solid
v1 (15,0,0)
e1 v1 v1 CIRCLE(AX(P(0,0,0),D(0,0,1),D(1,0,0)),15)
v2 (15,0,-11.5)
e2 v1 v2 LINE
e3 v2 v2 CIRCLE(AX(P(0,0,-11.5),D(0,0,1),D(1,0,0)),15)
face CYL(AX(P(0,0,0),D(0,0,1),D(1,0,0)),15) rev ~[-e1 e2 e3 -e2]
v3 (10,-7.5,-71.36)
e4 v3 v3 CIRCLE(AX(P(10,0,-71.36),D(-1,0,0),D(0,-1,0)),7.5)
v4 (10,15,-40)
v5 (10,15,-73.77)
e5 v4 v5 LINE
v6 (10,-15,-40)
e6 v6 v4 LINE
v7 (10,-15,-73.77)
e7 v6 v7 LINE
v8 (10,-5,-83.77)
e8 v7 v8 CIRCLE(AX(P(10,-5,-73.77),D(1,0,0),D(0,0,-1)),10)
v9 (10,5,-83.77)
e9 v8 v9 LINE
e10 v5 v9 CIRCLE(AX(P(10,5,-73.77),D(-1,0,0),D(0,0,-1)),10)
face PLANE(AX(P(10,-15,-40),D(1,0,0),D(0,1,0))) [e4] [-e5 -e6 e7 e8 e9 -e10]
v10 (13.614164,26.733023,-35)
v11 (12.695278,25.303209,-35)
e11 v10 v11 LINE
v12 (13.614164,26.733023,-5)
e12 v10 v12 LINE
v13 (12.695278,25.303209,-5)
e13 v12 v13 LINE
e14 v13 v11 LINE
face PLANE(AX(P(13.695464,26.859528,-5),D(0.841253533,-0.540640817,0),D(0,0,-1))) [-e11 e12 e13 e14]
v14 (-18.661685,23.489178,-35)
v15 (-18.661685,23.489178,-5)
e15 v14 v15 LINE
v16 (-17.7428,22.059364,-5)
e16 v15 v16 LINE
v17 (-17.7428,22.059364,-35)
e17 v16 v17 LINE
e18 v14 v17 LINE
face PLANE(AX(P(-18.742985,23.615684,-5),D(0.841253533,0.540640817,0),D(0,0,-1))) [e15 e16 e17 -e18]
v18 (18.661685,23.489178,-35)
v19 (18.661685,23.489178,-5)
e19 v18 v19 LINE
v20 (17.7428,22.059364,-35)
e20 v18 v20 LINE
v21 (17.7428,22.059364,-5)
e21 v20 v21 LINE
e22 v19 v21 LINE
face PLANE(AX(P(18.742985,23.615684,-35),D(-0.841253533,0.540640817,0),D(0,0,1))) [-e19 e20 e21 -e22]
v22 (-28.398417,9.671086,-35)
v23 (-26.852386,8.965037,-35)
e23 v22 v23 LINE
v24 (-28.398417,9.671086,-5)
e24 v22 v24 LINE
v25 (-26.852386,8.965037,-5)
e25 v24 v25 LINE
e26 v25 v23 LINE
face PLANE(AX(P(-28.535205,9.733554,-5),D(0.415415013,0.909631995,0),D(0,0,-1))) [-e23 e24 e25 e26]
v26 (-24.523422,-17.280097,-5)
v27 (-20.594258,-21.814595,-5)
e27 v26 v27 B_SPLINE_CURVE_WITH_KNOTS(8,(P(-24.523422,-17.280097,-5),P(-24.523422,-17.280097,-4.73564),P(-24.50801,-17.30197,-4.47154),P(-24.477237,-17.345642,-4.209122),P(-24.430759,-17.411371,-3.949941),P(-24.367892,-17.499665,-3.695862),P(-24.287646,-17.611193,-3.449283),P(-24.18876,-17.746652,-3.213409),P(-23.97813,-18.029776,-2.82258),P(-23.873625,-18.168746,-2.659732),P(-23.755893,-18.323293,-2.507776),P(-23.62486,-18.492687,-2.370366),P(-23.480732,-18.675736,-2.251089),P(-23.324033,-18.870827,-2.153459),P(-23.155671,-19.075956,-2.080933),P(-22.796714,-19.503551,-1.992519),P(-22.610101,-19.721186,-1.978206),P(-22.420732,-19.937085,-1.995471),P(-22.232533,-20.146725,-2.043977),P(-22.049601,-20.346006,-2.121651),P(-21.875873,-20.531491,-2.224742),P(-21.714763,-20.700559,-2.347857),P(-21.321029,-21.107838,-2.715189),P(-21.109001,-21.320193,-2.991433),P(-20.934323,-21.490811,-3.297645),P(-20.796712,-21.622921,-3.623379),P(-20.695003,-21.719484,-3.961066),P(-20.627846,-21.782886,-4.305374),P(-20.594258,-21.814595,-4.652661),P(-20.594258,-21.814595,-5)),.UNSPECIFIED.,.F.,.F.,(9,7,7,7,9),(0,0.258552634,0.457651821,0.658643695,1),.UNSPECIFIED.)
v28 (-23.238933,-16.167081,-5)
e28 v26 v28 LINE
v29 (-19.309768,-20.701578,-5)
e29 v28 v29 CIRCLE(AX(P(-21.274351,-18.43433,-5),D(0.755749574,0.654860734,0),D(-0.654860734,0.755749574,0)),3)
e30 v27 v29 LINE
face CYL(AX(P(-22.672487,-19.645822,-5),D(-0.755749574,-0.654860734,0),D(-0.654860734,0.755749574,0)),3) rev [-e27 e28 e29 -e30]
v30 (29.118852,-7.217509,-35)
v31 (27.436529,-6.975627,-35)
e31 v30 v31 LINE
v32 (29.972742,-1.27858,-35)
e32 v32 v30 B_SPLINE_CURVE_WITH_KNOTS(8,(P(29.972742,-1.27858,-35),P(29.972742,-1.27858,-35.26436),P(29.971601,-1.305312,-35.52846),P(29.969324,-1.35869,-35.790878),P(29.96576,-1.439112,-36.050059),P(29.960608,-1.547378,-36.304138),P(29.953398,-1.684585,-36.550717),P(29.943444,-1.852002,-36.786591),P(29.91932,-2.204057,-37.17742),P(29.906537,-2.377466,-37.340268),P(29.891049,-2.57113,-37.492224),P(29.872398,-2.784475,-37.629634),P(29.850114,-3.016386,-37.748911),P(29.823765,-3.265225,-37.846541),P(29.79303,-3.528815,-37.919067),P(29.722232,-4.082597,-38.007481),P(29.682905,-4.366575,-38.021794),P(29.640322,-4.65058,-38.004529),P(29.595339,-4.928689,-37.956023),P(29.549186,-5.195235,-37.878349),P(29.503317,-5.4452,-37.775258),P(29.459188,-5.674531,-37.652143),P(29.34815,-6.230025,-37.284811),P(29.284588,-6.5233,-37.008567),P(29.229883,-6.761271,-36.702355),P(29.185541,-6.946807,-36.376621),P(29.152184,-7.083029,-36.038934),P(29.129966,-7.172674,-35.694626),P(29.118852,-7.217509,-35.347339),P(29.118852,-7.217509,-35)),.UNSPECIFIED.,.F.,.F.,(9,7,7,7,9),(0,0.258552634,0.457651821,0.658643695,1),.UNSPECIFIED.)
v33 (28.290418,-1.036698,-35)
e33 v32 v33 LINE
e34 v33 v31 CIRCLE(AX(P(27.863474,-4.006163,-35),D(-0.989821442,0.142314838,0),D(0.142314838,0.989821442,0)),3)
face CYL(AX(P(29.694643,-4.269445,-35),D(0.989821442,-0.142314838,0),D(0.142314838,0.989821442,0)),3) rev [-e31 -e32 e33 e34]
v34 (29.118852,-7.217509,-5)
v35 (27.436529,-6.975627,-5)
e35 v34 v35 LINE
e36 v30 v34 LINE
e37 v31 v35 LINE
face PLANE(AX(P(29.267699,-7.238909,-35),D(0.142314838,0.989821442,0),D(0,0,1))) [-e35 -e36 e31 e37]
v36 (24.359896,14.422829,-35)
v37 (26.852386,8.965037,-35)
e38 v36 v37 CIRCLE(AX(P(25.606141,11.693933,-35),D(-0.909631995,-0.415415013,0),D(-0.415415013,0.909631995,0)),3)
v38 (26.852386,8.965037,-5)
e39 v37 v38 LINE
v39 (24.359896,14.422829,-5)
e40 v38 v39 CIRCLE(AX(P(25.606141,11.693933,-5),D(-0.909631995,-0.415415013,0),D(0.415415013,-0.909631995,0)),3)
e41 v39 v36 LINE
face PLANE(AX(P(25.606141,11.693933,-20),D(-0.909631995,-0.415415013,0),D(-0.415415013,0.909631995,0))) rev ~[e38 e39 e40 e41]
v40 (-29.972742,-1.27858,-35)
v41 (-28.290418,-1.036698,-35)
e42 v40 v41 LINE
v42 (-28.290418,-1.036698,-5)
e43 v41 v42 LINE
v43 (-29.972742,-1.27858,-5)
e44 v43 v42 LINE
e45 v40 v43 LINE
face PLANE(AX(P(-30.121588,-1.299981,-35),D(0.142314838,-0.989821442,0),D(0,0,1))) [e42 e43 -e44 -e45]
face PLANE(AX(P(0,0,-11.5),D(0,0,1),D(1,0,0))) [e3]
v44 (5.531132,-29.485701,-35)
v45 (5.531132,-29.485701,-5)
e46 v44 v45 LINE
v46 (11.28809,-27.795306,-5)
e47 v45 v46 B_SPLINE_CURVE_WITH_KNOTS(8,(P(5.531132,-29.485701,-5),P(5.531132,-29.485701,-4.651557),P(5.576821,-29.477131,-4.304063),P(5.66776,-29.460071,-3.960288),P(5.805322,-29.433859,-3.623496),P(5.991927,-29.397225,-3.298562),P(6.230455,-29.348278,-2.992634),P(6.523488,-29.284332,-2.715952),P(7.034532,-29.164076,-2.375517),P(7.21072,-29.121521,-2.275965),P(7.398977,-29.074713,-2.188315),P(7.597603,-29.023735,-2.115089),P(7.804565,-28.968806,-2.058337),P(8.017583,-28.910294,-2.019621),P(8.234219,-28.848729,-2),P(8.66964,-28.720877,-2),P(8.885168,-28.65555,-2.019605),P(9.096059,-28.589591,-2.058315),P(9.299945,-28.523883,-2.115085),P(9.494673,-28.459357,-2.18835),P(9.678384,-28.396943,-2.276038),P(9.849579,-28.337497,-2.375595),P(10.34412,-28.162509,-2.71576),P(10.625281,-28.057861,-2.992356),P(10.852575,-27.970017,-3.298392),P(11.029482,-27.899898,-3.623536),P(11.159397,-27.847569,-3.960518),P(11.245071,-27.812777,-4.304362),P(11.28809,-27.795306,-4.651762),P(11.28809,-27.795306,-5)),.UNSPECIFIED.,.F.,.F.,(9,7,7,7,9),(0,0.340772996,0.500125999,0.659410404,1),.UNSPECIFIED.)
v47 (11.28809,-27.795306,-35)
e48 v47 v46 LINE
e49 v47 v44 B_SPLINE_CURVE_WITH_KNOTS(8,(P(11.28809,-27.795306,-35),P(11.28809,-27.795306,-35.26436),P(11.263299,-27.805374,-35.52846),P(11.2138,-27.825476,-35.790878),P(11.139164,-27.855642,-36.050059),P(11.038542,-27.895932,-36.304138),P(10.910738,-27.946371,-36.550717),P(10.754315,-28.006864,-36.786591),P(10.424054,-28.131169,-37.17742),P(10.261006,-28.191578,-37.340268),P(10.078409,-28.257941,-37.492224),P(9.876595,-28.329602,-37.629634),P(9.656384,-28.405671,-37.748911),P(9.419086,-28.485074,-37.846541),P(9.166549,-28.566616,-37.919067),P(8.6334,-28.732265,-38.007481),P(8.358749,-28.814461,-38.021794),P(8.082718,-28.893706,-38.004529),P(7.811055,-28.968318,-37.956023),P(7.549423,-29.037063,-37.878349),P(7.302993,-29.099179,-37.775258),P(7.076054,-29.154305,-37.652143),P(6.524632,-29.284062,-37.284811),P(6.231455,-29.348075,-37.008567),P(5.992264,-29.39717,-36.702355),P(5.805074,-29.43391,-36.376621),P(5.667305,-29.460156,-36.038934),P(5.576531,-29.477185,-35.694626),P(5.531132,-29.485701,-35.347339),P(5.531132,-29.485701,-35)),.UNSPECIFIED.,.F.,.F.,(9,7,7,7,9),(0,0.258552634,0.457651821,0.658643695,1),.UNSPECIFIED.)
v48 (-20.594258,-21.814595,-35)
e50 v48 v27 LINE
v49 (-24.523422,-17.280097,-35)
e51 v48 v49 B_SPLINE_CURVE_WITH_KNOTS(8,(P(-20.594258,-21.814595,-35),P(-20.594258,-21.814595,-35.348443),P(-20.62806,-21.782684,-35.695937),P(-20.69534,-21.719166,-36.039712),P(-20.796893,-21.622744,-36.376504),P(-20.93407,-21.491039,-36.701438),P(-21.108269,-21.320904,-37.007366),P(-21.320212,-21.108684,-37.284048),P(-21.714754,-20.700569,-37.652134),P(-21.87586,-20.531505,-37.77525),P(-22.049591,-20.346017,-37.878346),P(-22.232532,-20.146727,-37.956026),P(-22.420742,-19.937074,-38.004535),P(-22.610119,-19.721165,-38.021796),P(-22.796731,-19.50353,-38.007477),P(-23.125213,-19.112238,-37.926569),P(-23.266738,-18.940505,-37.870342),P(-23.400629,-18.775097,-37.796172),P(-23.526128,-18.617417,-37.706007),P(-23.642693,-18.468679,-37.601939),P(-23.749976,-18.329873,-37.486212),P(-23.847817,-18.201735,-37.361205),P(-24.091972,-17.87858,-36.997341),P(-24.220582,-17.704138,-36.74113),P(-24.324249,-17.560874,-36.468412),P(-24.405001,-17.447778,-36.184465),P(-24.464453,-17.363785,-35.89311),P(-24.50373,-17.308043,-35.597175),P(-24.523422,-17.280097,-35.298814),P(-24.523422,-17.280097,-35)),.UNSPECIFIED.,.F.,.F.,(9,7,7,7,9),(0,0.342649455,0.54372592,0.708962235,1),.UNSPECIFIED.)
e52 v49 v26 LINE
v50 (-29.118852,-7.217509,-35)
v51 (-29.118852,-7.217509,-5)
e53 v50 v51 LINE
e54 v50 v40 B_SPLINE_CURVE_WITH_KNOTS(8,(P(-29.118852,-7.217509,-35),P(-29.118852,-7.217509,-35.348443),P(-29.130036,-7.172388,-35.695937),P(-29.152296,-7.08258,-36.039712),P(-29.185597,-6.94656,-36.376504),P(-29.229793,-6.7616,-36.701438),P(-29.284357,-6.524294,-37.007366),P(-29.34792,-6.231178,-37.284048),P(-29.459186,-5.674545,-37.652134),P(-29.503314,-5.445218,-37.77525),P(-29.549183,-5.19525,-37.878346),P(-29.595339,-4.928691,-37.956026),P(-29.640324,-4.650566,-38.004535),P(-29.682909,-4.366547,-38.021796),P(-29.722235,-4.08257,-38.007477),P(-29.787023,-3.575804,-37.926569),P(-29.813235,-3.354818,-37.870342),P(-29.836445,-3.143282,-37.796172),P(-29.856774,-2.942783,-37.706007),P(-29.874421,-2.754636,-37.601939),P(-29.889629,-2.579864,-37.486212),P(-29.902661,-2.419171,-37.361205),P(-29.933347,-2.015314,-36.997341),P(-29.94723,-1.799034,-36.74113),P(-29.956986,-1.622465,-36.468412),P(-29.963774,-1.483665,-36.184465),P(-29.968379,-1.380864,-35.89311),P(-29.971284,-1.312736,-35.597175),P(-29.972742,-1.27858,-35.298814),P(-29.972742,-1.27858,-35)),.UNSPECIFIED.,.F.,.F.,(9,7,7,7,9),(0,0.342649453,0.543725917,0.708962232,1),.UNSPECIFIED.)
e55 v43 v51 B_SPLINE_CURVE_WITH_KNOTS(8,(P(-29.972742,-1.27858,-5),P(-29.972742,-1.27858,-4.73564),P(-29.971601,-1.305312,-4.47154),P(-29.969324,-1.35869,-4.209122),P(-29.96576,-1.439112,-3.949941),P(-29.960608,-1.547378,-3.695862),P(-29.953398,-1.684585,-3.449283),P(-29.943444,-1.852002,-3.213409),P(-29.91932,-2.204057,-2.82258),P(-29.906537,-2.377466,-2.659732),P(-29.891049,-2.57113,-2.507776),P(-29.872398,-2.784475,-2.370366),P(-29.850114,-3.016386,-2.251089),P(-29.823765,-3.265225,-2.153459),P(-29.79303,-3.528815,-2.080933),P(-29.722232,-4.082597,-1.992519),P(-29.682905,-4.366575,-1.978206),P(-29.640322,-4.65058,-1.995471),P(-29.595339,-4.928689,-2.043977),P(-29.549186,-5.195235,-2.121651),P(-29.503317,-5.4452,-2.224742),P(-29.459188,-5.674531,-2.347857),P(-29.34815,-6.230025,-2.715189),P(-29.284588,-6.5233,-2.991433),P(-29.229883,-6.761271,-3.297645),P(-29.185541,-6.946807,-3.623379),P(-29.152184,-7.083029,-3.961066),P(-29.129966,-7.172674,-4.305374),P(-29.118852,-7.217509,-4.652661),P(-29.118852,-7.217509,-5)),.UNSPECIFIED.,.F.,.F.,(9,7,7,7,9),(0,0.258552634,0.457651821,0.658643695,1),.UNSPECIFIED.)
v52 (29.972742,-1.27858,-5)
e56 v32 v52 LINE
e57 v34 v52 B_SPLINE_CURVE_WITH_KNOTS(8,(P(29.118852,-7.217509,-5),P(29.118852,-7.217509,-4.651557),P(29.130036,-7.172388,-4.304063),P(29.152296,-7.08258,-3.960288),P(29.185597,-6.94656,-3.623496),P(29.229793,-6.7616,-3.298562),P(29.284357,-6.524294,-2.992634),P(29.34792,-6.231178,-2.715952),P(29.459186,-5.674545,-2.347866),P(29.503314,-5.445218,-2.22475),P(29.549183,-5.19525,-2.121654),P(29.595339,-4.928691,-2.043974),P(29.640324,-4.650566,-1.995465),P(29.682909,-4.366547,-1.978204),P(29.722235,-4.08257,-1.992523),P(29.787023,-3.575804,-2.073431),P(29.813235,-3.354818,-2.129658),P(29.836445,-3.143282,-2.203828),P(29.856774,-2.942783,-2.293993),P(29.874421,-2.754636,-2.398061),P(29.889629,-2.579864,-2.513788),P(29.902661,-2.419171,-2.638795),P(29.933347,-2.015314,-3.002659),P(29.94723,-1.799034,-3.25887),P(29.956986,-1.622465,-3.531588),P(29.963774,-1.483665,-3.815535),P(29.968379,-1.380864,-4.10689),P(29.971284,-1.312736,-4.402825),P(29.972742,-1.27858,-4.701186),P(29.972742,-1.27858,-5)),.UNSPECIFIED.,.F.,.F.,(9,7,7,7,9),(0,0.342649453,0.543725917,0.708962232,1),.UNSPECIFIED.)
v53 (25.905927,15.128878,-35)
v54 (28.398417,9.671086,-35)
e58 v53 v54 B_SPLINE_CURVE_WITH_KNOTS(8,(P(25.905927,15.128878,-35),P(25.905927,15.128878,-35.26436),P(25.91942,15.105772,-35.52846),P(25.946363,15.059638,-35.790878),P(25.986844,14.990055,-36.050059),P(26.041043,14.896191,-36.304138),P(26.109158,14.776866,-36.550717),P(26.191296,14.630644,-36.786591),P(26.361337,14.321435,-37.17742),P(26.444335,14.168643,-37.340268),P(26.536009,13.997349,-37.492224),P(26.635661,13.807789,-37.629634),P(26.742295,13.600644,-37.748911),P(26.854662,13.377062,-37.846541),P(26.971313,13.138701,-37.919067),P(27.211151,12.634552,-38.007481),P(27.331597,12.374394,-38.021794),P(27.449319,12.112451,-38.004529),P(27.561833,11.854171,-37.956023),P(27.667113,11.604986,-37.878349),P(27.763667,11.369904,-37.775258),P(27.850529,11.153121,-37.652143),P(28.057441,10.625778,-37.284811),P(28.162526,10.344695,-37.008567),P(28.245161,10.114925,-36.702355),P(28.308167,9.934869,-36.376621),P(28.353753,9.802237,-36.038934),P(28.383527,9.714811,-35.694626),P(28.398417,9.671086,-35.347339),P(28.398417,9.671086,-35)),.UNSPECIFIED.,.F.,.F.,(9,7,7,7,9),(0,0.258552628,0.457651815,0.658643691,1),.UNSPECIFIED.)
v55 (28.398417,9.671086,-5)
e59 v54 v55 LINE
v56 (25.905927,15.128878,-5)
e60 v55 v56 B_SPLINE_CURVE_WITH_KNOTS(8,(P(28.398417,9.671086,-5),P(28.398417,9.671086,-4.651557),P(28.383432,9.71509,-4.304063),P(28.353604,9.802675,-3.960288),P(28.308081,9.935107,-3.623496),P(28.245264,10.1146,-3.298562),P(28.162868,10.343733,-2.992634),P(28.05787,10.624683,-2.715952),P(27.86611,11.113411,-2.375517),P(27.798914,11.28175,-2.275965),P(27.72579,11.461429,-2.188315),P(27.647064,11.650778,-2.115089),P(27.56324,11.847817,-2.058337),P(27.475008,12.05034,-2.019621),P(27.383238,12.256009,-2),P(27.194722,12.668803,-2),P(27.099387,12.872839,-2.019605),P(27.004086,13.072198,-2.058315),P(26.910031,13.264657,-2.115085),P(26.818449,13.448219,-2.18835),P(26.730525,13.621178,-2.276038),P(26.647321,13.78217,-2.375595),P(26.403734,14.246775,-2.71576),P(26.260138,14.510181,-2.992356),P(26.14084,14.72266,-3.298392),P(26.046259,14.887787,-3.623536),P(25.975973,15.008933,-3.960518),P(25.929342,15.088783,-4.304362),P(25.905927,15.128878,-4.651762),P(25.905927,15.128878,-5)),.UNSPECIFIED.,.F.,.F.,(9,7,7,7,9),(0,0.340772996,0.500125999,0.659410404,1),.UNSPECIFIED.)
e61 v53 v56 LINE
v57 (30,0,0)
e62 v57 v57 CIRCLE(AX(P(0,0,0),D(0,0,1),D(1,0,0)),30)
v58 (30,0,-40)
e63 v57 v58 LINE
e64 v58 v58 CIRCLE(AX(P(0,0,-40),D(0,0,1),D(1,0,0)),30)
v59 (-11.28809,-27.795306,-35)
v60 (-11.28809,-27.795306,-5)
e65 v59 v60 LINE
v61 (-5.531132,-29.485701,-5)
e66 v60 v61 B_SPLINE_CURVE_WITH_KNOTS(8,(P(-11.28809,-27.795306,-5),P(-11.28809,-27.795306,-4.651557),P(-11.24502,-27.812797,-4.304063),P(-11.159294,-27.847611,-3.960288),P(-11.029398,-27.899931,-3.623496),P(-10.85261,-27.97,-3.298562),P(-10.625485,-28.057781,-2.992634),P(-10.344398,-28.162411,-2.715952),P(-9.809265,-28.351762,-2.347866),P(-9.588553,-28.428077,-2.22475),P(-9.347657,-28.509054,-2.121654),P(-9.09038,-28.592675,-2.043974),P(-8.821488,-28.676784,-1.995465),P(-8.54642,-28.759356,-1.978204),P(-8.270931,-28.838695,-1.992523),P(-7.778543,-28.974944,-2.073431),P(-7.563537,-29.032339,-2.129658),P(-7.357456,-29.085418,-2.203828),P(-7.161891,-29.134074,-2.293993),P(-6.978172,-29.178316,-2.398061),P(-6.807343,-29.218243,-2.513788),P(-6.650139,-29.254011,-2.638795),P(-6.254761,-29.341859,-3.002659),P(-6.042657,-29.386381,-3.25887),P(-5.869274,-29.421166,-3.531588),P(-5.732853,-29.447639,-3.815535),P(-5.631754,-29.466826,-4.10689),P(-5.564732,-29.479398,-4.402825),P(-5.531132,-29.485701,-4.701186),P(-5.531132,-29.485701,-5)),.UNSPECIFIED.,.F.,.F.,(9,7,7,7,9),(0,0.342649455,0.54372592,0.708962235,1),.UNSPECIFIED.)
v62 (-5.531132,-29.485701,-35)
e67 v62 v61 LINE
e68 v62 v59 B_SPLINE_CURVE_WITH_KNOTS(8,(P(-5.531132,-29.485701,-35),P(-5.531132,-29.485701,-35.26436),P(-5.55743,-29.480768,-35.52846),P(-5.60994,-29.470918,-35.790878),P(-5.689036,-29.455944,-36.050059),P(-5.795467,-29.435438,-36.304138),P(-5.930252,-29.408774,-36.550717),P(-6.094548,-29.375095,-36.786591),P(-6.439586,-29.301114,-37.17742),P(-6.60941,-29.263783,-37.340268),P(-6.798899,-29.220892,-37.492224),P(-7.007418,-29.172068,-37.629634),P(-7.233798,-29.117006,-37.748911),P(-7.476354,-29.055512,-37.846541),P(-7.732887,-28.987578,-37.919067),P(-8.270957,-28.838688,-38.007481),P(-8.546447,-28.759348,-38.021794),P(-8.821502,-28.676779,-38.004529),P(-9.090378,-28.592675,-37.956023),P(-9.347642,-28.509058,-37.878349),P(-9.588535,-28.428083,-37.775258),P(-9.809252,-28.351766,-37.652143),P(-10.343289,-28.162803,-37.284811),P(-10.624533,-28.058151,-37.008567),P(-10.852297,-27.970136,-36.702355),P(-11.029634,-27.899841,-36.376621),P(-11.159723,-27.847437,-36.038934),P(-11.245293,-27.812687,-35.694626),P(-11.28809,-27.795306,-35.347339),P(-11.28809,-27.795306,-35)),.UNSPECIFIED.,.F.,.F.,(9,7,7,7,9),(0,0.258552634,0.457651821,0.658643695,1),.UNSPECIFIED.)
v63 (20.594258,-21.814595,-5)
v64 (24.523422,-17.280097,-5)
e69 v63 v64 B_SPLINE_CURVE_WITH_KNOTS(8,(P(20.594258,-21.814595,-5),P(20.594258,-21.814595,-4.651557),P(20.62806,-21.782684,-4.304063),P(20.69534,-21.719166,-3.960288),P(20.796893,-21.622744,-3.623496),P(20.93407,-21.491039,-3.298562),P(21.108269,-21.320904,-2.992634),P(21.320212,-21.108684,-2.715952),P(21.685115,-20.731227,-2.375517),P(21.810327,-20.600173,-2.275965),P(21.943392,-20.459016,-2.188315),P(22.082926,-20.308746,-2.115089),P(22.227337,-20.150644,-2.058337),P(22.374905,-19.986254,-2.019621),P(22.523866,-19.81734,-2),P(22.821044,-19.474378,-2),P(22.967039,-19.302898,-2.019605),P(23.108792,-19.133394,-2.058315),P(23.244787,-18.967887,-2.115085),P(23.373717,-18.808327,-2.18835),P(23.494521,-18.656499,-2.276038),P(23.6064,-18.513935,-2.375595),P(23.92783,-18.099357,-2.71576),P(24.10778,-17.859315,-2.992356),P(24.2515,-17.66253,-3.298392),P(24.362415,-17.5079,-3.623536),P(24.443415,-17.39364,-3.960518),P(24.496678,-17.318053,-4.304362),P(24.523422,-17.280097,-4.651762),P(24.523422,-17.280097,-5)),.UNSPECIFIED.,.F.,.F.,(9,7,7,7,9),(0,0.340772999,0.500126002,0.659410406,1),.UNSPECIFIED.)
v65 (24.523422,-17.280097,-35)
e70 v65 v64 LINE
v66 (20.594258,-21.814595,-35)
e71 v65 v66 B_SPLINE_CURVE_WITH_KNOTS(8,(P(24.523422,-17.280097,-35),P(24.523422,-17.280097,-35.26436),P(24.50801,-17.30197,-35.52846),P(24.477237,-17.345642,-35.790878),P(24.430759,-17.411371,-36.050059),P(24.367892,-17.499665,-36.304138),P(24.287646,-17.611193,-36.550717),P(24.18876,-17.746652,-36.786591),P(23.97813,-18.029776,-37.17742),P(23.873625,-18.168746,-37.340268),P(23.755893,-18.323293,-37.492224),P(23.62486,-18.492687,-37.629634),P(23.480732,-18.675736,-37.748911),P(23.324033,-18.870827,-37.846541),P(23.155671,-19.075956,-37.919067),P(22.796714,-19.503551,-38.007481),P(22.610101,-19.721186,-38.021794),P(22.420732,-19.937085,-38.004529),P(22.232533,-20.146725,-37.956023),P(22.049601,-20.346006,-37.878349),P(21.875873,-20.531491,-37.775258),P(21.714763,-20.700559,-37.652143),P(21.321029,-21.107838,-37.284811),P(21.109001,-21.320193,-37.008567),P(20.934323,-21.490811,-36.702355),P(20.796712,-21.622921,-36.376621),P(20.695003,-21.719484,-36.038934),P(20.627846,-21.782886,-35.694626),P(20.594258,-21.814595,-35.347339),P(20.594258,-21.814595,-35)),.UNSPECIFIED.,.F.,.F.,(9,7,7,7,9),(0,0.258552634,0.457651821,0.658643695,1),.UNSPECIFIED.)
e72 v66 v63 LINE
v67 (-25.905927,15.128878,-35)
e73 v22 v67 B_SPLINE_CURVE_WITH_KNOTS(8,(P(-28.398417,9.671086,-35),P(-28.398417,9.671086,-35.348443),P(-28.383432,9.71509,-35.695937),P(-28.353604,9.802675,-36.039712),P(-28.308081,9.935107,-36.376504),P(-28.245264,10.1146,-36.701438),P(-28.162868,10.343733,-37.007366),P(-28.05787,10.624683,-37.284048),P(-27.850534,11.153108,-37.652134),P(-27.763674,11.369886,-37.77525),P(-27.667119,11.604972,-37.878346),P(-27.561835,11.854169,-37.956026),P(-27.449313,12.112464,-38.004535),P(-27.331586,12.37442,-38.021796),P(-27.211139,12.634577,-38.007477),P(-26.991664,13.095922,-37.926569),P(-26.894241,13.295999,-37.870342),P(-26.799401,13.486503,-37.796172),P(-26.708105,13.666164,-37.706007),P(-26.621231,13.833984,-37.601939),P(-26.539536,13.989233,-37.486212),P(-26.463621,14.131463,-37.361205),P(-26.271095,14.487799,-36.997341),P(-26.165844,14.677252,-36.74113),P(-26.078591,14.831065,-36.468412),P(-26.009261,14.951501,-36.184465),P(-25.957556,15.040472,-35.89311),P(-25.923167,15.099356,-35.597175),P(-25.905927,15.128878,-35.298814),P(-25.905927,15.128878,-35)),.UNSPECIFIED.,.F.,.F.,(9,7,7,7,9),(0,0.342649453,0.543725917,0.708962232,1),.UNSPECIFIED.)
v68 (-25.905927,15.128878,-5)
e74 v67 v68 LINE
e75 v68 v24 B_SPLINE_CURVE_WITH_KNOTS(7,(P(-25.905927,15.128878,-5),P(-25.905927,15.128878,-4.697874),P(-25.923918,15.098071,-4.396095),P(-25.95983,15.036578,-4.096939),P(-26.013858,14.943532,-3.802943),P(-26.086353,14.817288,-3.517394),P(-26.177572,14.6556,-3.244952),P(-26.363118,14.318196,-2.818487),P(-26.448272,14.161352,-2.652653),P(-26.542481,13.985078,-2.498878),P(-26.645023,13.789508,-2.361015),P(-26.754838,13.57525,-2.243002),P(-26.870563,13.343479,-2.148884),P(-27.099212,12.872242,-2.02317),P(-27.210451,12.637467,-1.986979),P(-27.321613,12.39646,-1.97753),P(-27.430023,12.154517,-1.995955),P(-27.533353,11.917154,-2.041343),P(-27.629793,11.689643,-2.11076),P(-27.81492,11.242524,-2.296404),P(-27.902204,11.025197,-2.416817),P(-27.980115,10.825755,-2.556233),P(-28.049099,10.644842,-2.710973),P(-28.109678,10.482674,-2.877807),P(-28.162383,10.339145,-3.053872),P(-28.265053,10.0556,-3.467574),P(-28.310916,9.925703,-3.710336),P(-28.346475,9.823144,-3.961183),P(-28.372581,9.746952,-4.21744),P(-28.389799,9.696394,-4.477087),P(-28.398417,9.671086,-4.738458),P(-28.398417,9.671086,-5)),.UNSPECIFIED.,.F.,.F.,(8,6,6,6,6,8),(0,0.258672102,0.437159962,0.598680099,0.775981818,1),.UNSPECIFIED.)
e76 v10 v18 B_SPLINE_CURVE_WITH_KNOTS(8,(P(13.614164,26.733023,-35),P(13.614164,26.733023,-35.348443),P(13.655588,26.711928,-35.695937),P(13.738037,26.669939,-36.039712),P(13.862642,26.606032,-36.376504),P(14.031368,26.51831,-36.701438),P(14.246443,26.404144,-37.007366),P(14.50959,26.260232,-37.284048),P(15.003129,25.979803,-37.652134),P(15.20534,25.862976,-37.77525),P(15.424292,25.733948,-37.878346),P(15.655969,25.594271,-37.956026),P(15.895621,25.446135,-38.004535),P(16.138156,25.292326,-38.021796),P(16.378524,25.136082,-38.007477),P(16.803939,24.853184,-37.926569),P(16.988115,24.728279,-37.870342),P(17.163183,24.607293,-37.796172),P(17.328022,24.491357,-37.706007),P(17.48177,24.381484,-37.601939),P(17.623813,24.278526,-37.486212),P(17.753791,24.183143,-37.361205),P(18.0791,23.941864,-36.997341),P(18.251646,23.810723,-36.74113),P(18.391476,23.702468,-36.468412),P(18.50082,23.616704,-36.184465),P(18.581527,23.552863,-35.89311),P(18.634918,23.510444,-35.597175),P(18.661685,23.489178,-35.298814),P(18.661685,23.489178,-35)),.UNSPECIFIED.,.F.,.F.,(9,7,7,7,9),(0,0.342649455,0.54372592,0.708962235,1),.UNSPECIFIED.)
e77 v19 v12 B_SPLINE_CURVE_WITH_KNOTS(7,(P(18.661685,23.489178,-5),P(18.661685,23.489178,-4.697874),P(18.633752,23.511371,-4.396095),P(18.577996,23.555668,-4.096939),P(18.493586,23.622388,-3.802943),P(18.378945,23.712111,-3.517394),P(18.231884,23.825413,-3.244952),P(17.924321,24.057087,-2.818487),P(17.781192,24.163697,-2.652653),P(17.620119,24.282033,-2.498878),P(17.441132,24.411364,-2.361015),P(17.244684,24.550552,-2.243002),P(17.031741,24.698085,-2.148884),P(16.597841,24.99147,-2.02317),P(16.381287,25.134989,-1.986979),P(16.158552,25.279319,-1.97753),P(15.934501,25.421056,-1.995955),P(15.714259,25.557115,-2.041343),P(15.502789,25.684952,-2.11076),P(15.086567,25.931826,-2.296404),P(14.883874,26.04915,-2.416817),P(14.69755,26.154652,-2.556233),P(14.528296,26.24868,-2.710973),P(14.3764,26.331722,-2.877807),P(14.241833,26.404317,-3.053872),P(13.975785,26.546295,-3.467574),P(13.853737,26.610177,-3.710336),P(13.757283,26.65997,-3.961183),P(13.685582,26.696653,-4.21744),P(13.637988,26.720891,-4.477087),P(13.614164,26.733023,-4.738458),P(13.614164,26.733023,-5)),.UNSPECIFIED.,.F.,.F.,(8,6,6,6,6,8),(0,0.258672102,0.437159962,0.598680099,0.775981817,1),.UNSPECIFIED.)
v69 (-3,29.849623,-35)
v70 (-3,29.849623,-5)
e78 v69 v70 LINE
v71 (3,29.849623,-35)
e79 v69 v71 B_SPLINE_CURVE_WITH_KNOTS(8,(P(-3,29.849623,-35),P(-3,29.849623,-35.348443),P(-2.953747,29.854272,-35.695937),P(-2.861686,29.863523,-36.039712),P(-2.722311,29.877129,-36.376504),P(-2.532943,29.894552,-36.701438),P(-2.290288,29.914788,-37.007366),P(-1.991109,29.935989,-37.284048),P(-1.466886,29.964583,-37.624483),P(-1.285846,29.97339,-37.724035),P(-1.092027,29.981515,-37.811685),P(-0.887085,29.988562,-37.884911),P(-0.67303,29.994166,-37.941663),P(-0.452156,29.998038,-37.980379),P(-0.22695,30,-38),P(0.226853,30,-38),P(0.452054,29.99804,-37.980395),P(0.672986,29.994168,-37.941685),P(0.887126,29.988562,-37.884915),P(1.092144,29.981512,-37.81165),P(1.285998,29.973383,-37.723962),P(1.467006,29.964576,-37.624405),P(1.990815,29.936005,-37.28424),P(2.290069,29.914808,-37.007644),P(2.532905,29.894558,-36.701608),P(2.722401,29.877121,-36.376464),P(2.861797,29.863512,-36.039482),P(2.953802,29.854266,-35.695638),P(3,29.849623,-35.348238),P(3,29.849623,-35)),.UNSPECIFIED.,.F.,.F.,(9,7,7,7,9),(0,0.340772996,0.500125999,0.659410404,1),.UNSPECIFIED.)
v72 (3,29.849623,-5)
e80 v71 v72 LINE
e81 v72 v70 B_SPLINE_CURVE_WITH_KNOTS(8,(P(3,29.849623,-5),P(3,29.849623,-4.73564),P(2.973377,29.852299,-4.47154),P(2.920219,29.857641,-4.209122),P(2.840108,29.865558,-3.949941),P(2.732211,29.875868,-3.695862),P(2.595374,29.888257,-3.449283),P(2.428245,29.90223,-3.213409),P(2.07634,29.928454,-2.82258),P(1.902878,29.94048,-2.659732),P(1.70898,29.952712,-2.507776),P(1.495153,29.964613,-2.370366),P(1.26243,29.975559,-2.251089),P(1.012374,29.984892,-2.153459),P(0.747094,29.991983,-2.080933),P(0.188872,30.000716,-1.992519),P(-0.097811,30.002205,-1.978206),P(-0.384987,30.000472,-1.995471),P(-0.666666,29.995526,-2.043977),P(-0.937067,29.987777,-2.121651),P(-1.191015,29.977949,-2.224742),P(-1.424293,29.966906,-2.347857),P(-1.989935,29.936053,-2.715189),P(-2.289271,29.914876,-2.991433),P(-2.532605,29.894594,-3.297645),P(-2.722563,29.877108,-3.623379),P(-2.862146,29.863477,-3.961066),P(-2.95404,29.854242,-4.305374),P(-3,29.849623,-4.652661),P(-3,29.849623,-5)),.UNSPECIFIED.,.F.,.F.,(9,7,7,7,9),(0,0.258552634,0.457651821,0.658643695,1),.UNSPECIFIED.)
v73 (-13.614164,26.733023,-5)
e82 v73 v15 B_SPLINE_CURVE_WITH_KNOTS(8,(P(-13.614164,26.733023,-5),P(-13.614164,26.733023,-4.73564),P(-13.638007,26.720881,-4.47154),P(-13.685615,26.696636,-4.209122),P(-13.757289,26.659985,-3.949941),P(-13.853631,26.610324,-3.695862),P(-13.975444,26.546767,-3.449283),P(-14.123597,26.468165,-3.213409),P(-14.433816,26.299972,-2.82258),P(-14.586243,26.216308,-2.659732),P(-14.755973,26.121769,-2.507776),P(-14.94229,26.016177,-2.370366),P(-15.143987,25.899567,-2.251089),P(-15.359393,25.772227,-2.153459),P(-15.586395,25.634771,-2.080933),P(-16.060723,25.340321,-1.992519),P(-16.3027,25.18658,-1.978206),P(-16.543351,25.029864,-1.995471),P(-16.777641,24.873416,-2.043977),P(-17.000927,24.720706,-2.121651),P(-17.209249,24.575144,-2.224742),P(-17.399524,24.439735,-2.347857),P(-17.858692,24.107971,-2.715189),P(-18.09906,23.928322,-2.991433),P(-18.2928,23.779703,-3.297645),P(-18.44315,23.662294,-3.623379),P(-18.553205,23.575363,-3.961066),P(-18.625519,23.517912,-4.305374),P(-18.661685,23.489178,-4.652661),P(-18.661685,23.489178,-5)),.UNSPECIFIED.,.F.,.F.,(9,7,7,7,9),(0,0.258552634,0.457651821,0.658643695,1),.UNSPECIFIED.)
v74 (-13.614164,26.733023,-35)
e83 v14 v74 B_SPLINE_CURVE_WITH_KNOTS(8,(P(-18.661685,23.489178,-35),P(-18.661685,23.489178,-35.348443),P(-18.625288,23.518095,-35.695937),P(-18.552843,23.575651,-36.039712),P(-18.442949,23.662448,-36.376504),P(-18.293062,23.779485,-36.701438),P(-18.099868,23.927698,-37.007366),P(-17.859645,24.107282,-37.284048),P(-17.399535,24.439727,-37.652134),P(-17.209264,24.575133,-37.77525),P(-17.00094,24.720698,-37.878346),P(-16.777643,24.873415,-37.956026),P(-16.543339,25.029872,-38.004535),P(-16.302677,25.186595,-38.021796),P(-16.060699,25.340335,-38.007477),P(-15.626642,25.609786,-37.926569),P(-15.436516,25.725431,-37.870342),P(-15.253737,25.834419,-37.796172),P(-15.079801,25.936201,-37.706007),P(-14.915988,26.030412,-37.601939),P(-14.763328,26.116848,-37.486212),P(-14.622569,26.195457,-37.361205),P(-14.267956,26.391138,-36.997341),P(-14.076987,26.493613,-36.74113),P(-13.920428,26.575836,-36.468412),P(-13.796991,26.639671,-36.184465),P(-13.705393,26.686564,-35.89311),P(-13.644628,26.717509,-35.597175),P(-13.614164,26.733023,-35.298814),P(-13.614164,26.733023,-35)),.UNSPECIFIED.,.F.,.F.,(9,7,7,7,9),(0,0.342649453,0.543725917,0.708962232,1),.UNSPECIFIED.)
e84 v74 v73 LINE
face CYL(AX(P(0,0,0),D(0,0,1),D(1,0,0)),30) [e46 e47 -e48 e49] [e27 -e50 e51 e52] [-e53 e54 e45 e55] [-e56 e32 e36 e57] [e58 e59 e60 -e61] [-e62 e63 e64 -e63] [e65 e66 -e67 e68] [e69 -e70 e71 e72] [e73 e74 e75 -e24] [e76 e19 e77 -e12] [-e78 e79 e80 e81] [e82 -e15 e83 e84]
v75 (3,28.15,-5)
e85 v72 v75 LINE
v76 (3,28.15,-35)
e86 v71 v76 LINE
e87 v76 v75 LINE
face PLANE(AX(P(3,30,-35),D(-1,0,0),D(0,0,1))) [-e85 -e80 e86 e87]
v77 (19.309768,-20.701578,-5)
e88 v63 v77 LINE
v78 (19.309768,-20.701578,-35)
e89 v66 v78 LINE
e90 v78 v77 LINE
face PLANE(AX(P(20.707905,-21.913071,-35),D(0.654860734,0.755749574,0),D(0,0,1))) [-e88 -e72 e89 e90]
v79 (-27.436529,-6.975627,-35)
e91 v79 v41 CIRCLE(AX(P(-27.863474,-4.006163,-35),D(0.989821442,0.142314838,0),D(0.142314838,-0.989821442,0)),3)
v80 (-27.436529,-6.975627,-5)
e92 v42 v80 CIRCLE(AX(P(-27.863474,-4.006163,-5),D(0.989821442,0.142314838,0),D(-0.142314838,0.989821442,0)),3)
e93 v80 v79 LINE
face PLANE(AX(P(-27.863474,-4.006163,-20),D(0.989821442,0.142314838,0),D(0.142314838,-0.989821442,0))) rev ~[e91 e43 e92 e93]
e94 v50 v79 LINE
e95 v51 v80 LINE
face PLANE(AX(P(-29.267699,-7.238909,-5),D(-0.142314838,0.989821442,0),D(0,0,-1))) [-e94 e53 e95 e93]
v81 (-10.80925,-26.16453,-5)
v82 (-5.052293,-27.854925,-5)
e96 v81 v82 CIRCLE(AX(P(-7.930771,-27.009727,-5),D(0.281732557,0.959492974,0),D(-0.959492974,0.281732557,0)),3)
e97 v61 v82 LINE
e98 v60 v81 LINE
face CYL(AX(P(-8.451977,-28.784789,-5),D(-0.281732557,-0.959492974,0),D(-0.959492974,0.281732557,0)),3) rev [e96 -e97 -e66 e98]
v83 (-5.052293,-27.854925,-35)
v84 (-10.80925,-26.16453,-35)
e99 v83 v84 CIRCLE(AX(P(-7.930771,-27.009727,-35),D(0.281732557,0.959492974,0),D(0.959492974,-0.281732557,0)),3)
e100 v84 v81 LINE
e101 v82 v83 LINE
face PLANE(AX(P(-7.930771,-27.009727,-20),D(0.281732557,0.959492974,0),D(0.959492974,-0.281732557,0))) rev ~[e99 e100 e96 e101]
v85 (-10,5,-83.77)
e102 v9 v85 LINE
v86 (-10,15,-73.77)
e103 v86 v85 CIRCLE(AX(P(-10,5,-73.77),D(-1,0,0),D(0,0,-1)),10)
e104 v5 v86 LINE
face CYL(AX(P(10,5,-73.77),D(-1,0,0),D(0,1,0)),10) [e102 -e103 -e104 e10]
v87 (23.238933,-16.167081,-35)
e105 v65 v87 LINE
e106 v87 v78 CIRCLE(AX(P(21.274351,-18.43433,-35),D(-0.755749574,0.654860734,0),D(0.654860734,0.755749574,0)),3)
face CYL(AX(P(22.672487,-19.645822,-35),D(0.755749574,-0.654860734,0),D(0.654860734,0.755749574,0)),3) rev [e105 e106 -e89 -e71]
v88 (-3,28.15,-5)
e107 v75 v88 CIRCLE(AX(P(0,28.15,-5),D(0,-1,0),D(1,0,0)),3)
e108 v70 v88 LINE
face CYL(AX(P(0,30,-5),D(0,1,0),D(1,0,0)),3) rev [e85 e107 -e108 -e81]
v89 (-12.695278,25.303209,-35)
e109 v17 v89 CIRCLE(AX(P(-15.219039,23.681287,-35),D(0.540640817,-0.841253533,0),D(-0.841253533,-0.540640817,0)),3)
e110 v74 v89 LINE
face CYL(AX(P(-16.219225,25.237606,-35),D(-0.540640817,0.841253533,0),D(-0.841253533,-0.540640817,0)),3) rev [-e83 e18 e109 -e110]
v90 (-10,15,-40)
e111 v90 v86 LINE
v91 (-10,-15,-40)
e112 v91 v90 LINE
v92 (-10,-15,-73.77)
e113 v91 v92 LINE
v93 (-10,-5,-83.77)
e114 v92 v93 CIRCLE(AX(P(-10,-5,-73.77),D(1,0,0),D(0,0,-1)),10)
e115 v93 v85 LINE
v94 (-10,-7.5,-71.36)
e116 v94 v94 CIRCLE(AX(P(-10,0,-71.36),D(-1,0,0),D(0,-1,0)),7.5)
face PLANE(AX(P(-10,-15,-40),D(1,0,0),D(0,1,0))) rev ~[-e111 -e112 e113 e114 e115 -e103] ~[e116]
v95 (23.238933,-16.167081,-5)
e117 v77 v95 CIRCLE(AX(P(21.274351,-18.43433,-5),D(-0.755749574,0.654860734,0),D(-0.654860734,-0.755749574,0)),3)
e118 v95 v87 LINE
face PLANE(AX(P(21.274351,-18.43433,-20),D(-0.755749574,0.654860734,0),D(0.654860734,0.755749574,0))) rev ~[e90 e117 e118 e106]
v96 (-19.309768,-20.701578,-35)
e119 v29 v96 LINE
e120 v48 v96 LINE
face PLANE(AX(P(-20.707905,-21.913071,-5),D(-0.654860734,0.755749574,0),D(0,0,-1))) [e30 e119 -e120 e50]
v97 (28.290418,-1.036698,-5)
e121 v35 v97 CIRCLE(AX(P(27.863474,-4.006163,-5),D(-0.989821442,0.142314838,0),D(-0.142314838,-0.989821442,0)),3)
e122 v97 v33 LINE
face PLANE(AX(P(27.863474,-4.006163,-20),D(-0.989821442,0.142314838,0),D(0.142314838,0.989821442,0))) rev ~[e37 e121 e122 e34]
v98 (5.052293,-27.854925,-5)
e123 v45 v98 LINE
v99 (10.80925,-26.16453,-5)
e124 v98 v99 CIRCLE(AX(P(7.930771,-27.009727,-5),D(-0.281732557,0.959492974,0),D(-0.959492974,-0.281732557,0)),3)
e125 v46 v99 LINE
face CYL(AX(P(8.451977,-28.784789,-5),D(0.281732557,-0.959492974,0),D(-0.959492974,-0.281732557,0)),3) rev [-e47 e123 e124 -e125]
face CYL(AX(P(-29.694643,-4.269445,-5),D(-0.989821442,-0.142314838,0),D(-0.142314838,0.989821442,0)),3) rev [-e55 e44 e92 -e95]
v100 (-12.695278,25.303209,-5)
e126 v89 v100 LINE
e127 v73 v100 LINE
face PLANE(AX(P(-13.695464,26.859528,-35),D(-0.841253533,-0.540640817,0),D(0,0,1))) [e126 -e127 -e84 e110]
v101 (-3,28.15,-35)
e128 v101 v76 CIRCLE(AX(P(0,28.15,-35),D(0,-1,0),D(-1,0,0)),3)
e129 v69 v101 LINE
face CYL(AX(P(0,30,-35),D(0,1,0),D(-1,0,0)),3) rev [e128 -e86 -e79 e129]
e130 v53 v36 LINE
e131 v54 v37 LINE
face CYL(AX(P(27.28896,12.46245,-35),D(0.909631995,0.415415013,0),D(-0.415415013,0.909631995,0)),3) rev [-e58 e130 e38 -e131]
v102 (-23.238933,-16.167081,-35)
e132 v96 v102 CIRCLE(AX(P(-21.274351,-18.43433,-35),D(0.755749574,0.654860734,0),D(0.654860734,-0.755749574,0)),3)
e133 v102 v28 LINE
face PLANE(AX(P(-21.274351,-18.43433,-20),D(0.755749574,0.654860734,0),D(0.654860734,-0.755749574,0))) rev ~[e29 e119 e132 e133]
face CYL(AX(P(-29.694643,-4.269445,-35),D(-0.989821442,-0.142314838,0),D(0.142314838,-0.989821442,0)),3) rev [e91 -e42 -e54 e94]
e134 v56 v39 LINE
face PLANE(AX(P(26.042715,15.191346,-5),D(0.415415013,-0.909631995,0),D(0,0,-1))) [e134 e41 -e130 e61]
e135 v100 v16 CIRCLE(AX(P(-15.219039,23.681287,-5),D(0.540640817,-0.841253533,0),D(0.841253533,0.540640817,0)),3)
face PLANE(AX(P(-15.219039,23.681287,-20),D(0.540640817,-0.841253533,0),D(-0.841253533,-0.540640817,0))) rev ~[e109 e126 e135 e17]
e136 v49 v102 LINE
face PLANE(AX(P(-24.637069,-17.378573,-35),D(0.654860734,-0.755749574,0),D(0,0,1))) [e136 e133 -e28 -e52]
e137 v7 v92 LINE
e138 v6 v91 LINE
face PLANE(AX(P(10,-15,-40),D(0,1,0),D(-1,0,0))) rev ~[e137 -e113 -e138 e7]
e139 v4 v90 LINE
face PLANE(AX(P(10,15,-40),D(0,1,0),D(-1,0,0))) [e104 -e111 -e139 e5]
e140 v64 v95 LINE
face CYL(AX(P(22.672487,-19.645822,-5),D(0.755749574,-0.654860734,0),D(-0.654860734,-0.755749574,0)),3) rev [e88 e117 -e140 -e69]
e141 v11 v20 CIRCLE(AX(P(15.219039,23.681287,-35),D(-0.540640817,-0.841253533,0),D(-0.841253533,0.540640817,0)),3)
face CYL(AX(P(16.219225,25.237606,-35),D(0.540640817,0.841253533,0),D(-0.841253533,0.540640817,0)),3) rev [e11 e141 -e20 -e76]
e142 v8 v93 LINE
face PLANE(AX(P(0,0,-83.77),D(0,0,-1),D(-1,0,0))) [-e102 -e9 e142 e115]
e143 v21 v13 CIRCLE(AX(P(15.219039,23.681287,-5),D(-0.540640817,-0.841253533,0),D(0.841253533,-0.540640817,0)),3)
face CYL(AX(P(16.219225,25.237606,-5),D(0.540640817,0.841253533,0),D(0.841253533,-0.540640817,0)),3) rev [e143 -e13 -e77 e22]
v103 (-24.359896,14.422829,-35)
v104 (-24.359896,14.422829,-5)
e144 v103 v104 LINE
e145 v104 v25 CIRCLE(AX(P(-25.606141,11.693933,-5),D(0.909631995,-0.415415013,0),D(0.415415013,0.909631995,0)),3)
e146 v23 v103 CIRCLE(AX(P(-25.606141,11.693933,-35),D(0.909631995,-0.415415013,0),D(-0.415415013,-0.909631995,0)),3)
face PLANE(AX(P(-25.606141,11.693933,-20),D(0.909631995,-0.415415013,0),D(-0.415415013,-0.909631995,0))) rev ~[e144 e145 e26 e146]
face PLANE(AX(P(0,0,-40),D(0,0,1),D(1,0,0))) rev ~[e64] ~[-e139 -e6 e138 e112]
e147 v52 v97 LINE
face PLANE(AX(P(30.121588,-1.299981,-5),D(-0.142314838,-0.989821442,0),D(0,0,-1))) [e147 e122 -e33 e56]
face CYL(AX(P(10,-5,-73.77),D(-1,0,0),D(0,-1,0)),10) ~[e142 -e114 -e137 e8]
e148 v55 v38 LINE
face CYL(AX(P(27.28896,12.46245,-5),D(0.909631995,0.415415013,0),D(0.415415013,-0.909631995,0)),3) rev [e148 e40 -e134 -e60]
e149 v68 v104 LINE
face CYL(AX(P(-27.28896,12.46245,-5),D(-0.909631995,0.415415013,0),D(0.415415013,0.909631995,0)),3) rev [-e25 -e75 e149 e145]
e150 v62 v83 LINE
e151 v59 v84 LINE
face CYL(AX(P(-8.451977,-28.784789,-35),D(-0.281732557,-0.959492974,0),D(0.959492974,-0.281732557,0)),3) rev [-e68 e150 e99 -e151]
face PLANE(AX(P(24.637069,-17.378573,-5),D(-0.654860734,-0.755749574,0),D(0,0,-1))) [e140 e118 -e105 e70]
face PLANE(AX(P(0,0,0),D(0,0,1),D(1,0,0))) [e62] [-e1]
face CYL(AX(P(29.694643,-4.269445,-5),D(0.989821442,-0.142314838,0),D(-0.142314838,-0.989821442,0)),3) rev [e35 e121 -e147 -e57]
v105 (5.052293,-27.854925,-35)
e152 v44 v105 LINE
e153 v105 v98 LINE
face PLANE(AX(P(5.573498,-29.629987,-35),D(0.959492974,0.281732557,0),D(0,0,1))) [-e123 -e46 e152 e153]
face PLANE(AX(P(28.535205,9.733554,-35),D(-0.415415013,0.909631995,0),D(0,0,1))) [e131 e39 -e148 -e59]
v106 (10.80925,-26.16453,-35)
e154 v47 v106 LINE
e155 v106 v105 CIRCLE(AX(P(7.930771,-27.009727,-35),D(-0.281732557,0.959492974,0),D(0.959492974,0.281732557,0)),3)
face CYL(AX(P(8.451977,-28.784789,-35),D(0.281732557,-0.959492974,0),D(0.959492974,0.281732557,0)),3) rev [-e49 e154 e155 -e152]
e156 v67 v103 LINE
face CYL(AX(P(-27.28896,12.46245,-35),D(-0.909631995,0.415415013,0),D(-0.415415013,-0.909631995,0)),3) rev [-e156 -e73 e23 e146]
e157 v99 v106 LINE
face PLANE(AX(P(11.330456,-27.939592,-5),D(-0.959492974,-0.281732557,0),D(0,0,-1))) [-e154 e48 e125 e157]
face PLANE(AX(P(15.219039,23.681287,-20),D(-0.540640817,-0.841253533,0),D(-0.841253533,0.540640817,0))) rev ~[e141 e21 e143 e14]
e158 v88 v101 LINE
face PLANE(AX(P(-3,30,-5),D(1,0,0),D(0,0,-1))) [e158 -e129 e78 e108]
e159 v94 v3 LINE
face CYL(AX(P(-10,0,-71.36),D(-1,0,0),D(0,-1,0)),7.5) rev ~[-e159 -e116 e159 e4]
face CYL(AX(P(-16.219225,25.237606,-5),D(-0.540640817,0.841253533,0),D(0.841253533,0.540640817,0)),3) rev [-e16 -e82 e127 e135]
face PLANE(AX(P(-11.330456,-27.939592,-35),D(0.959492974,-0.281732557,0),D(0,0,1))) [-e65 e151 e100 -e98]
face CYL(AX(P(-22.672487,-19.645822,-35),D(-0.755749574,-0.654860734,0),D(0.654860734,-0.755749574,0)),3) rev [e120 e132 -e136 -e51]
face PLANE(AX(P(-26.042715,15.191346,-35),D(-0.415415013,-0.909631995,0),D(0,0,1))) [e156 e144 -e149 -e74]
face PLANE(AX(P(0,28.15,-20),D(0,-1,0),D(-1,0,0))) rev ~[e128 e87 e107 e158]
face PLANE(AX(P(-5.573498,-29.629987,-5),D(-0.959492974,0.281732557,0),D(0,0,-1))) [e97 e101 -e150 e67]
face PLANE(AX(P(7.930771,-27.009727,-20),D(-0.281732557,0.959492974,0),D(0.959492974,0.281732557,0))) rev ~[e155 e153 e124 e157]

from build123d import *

# Parameters (mm, degrees)
SKETCH1_R           = 30
BOSS_EXTRUDE1_DEPTH = 40
SKETCH2_R           = 15
CUT_EXTRUDE1_DEPTH  = 11.5
SKETCH3_W           = 20
SKETCH3_H           = 30
BOSS_EXTRUDE2_DEPTH = 43.77
FILLET1_R           = 10
SKETCH4_R           = 7.5
CUT_EXTRUDE2_DEPTH  = 43.77
CUT_EXTRUDE3_DEPTH  = 1.85
CIRPATTERN1_COUNT   = 11


with BuildPart() as part:
    # Sketch1 → Boss-Extrude1 (new body)
    with BuildSketch(Plane.XY):
        Circle(SKETCH1_R)
    extrude(amount=-BOSS_EXTRUDE1_DEPTH)

    # Sketch2 → Cut-Extrude1 (cut)
    with BuildSketch(Plane.XY):
        Circle(SKETCH2_R)
    extrude(amount=-CUT_EXTRUDE1_DEPTH, mode=Mode.SUBTRACT)

    # Sketch3 → Boss-Extrude2 (add)
    with BuildSketch(Plane(origin=(0, 0, -40), x_dir=(-1, 0, 0), z_dir=(0, 0, -1))):
        Rectangle(SKETCH3_W, SKETCH3_H)
    extrude(amount=BOSS_EXTRUDE2_DEPTH)

    # Fillet1
    fillet1_edges = [part.edges().sort_by_distance(p)[0] for p in [
        (0, -15, -83.77),
        (0, 15, -83.77),
    ]]
    fillet(fillet1_edges, radius=FILLET1_R)

    # Sketch4 → Cut-Extrude2 (cut)
    with BuildSketch(Plane.ZY.offset(10)):
        with Locations(Location((-71.36, 0, 0), (0, 0, 270))):
            Circle(SKETCH4_R)
    extrude(amount=-CUT_EXTRUDE2_DEPTH, mode=Mode.SUBTRACT)

    # Sketch5 → Cut-Extrude3 (cut)
    with BuildSketch(Plane(origin=(0, 30, 0), x_dir=(1, 0, 0), z_dir=(0, 1, 0))):
        with BuildLine():
            Line((3, 35), (3, 5))
            ThreePointArc((3, 5), (0, 2), (-3, 5))
            Line((-3, 5), (-3, 35))
            ThreePointArc((-3, 35), (0, 38), (3, 35))
        make_face()
    cut_extrude3 = extrude(amount=-CUT_EXTRUDE3_DEPTH, mode=Mode.SUBTRACT)

    # CirPattern1: Cut-Extrude3 ×11 about axis
    cirpattern1_axis = Axis((0, 0, 0), (0, 0, 1))
    for i in range(1, CIRPATTERN1_COUNT):
        add(cut_extrude3.rotate(cirpattern1_axis, i * 360 / CIRPATTERN1_COUNT), mode=Mode.SUBTRACT)


solid = part.part
